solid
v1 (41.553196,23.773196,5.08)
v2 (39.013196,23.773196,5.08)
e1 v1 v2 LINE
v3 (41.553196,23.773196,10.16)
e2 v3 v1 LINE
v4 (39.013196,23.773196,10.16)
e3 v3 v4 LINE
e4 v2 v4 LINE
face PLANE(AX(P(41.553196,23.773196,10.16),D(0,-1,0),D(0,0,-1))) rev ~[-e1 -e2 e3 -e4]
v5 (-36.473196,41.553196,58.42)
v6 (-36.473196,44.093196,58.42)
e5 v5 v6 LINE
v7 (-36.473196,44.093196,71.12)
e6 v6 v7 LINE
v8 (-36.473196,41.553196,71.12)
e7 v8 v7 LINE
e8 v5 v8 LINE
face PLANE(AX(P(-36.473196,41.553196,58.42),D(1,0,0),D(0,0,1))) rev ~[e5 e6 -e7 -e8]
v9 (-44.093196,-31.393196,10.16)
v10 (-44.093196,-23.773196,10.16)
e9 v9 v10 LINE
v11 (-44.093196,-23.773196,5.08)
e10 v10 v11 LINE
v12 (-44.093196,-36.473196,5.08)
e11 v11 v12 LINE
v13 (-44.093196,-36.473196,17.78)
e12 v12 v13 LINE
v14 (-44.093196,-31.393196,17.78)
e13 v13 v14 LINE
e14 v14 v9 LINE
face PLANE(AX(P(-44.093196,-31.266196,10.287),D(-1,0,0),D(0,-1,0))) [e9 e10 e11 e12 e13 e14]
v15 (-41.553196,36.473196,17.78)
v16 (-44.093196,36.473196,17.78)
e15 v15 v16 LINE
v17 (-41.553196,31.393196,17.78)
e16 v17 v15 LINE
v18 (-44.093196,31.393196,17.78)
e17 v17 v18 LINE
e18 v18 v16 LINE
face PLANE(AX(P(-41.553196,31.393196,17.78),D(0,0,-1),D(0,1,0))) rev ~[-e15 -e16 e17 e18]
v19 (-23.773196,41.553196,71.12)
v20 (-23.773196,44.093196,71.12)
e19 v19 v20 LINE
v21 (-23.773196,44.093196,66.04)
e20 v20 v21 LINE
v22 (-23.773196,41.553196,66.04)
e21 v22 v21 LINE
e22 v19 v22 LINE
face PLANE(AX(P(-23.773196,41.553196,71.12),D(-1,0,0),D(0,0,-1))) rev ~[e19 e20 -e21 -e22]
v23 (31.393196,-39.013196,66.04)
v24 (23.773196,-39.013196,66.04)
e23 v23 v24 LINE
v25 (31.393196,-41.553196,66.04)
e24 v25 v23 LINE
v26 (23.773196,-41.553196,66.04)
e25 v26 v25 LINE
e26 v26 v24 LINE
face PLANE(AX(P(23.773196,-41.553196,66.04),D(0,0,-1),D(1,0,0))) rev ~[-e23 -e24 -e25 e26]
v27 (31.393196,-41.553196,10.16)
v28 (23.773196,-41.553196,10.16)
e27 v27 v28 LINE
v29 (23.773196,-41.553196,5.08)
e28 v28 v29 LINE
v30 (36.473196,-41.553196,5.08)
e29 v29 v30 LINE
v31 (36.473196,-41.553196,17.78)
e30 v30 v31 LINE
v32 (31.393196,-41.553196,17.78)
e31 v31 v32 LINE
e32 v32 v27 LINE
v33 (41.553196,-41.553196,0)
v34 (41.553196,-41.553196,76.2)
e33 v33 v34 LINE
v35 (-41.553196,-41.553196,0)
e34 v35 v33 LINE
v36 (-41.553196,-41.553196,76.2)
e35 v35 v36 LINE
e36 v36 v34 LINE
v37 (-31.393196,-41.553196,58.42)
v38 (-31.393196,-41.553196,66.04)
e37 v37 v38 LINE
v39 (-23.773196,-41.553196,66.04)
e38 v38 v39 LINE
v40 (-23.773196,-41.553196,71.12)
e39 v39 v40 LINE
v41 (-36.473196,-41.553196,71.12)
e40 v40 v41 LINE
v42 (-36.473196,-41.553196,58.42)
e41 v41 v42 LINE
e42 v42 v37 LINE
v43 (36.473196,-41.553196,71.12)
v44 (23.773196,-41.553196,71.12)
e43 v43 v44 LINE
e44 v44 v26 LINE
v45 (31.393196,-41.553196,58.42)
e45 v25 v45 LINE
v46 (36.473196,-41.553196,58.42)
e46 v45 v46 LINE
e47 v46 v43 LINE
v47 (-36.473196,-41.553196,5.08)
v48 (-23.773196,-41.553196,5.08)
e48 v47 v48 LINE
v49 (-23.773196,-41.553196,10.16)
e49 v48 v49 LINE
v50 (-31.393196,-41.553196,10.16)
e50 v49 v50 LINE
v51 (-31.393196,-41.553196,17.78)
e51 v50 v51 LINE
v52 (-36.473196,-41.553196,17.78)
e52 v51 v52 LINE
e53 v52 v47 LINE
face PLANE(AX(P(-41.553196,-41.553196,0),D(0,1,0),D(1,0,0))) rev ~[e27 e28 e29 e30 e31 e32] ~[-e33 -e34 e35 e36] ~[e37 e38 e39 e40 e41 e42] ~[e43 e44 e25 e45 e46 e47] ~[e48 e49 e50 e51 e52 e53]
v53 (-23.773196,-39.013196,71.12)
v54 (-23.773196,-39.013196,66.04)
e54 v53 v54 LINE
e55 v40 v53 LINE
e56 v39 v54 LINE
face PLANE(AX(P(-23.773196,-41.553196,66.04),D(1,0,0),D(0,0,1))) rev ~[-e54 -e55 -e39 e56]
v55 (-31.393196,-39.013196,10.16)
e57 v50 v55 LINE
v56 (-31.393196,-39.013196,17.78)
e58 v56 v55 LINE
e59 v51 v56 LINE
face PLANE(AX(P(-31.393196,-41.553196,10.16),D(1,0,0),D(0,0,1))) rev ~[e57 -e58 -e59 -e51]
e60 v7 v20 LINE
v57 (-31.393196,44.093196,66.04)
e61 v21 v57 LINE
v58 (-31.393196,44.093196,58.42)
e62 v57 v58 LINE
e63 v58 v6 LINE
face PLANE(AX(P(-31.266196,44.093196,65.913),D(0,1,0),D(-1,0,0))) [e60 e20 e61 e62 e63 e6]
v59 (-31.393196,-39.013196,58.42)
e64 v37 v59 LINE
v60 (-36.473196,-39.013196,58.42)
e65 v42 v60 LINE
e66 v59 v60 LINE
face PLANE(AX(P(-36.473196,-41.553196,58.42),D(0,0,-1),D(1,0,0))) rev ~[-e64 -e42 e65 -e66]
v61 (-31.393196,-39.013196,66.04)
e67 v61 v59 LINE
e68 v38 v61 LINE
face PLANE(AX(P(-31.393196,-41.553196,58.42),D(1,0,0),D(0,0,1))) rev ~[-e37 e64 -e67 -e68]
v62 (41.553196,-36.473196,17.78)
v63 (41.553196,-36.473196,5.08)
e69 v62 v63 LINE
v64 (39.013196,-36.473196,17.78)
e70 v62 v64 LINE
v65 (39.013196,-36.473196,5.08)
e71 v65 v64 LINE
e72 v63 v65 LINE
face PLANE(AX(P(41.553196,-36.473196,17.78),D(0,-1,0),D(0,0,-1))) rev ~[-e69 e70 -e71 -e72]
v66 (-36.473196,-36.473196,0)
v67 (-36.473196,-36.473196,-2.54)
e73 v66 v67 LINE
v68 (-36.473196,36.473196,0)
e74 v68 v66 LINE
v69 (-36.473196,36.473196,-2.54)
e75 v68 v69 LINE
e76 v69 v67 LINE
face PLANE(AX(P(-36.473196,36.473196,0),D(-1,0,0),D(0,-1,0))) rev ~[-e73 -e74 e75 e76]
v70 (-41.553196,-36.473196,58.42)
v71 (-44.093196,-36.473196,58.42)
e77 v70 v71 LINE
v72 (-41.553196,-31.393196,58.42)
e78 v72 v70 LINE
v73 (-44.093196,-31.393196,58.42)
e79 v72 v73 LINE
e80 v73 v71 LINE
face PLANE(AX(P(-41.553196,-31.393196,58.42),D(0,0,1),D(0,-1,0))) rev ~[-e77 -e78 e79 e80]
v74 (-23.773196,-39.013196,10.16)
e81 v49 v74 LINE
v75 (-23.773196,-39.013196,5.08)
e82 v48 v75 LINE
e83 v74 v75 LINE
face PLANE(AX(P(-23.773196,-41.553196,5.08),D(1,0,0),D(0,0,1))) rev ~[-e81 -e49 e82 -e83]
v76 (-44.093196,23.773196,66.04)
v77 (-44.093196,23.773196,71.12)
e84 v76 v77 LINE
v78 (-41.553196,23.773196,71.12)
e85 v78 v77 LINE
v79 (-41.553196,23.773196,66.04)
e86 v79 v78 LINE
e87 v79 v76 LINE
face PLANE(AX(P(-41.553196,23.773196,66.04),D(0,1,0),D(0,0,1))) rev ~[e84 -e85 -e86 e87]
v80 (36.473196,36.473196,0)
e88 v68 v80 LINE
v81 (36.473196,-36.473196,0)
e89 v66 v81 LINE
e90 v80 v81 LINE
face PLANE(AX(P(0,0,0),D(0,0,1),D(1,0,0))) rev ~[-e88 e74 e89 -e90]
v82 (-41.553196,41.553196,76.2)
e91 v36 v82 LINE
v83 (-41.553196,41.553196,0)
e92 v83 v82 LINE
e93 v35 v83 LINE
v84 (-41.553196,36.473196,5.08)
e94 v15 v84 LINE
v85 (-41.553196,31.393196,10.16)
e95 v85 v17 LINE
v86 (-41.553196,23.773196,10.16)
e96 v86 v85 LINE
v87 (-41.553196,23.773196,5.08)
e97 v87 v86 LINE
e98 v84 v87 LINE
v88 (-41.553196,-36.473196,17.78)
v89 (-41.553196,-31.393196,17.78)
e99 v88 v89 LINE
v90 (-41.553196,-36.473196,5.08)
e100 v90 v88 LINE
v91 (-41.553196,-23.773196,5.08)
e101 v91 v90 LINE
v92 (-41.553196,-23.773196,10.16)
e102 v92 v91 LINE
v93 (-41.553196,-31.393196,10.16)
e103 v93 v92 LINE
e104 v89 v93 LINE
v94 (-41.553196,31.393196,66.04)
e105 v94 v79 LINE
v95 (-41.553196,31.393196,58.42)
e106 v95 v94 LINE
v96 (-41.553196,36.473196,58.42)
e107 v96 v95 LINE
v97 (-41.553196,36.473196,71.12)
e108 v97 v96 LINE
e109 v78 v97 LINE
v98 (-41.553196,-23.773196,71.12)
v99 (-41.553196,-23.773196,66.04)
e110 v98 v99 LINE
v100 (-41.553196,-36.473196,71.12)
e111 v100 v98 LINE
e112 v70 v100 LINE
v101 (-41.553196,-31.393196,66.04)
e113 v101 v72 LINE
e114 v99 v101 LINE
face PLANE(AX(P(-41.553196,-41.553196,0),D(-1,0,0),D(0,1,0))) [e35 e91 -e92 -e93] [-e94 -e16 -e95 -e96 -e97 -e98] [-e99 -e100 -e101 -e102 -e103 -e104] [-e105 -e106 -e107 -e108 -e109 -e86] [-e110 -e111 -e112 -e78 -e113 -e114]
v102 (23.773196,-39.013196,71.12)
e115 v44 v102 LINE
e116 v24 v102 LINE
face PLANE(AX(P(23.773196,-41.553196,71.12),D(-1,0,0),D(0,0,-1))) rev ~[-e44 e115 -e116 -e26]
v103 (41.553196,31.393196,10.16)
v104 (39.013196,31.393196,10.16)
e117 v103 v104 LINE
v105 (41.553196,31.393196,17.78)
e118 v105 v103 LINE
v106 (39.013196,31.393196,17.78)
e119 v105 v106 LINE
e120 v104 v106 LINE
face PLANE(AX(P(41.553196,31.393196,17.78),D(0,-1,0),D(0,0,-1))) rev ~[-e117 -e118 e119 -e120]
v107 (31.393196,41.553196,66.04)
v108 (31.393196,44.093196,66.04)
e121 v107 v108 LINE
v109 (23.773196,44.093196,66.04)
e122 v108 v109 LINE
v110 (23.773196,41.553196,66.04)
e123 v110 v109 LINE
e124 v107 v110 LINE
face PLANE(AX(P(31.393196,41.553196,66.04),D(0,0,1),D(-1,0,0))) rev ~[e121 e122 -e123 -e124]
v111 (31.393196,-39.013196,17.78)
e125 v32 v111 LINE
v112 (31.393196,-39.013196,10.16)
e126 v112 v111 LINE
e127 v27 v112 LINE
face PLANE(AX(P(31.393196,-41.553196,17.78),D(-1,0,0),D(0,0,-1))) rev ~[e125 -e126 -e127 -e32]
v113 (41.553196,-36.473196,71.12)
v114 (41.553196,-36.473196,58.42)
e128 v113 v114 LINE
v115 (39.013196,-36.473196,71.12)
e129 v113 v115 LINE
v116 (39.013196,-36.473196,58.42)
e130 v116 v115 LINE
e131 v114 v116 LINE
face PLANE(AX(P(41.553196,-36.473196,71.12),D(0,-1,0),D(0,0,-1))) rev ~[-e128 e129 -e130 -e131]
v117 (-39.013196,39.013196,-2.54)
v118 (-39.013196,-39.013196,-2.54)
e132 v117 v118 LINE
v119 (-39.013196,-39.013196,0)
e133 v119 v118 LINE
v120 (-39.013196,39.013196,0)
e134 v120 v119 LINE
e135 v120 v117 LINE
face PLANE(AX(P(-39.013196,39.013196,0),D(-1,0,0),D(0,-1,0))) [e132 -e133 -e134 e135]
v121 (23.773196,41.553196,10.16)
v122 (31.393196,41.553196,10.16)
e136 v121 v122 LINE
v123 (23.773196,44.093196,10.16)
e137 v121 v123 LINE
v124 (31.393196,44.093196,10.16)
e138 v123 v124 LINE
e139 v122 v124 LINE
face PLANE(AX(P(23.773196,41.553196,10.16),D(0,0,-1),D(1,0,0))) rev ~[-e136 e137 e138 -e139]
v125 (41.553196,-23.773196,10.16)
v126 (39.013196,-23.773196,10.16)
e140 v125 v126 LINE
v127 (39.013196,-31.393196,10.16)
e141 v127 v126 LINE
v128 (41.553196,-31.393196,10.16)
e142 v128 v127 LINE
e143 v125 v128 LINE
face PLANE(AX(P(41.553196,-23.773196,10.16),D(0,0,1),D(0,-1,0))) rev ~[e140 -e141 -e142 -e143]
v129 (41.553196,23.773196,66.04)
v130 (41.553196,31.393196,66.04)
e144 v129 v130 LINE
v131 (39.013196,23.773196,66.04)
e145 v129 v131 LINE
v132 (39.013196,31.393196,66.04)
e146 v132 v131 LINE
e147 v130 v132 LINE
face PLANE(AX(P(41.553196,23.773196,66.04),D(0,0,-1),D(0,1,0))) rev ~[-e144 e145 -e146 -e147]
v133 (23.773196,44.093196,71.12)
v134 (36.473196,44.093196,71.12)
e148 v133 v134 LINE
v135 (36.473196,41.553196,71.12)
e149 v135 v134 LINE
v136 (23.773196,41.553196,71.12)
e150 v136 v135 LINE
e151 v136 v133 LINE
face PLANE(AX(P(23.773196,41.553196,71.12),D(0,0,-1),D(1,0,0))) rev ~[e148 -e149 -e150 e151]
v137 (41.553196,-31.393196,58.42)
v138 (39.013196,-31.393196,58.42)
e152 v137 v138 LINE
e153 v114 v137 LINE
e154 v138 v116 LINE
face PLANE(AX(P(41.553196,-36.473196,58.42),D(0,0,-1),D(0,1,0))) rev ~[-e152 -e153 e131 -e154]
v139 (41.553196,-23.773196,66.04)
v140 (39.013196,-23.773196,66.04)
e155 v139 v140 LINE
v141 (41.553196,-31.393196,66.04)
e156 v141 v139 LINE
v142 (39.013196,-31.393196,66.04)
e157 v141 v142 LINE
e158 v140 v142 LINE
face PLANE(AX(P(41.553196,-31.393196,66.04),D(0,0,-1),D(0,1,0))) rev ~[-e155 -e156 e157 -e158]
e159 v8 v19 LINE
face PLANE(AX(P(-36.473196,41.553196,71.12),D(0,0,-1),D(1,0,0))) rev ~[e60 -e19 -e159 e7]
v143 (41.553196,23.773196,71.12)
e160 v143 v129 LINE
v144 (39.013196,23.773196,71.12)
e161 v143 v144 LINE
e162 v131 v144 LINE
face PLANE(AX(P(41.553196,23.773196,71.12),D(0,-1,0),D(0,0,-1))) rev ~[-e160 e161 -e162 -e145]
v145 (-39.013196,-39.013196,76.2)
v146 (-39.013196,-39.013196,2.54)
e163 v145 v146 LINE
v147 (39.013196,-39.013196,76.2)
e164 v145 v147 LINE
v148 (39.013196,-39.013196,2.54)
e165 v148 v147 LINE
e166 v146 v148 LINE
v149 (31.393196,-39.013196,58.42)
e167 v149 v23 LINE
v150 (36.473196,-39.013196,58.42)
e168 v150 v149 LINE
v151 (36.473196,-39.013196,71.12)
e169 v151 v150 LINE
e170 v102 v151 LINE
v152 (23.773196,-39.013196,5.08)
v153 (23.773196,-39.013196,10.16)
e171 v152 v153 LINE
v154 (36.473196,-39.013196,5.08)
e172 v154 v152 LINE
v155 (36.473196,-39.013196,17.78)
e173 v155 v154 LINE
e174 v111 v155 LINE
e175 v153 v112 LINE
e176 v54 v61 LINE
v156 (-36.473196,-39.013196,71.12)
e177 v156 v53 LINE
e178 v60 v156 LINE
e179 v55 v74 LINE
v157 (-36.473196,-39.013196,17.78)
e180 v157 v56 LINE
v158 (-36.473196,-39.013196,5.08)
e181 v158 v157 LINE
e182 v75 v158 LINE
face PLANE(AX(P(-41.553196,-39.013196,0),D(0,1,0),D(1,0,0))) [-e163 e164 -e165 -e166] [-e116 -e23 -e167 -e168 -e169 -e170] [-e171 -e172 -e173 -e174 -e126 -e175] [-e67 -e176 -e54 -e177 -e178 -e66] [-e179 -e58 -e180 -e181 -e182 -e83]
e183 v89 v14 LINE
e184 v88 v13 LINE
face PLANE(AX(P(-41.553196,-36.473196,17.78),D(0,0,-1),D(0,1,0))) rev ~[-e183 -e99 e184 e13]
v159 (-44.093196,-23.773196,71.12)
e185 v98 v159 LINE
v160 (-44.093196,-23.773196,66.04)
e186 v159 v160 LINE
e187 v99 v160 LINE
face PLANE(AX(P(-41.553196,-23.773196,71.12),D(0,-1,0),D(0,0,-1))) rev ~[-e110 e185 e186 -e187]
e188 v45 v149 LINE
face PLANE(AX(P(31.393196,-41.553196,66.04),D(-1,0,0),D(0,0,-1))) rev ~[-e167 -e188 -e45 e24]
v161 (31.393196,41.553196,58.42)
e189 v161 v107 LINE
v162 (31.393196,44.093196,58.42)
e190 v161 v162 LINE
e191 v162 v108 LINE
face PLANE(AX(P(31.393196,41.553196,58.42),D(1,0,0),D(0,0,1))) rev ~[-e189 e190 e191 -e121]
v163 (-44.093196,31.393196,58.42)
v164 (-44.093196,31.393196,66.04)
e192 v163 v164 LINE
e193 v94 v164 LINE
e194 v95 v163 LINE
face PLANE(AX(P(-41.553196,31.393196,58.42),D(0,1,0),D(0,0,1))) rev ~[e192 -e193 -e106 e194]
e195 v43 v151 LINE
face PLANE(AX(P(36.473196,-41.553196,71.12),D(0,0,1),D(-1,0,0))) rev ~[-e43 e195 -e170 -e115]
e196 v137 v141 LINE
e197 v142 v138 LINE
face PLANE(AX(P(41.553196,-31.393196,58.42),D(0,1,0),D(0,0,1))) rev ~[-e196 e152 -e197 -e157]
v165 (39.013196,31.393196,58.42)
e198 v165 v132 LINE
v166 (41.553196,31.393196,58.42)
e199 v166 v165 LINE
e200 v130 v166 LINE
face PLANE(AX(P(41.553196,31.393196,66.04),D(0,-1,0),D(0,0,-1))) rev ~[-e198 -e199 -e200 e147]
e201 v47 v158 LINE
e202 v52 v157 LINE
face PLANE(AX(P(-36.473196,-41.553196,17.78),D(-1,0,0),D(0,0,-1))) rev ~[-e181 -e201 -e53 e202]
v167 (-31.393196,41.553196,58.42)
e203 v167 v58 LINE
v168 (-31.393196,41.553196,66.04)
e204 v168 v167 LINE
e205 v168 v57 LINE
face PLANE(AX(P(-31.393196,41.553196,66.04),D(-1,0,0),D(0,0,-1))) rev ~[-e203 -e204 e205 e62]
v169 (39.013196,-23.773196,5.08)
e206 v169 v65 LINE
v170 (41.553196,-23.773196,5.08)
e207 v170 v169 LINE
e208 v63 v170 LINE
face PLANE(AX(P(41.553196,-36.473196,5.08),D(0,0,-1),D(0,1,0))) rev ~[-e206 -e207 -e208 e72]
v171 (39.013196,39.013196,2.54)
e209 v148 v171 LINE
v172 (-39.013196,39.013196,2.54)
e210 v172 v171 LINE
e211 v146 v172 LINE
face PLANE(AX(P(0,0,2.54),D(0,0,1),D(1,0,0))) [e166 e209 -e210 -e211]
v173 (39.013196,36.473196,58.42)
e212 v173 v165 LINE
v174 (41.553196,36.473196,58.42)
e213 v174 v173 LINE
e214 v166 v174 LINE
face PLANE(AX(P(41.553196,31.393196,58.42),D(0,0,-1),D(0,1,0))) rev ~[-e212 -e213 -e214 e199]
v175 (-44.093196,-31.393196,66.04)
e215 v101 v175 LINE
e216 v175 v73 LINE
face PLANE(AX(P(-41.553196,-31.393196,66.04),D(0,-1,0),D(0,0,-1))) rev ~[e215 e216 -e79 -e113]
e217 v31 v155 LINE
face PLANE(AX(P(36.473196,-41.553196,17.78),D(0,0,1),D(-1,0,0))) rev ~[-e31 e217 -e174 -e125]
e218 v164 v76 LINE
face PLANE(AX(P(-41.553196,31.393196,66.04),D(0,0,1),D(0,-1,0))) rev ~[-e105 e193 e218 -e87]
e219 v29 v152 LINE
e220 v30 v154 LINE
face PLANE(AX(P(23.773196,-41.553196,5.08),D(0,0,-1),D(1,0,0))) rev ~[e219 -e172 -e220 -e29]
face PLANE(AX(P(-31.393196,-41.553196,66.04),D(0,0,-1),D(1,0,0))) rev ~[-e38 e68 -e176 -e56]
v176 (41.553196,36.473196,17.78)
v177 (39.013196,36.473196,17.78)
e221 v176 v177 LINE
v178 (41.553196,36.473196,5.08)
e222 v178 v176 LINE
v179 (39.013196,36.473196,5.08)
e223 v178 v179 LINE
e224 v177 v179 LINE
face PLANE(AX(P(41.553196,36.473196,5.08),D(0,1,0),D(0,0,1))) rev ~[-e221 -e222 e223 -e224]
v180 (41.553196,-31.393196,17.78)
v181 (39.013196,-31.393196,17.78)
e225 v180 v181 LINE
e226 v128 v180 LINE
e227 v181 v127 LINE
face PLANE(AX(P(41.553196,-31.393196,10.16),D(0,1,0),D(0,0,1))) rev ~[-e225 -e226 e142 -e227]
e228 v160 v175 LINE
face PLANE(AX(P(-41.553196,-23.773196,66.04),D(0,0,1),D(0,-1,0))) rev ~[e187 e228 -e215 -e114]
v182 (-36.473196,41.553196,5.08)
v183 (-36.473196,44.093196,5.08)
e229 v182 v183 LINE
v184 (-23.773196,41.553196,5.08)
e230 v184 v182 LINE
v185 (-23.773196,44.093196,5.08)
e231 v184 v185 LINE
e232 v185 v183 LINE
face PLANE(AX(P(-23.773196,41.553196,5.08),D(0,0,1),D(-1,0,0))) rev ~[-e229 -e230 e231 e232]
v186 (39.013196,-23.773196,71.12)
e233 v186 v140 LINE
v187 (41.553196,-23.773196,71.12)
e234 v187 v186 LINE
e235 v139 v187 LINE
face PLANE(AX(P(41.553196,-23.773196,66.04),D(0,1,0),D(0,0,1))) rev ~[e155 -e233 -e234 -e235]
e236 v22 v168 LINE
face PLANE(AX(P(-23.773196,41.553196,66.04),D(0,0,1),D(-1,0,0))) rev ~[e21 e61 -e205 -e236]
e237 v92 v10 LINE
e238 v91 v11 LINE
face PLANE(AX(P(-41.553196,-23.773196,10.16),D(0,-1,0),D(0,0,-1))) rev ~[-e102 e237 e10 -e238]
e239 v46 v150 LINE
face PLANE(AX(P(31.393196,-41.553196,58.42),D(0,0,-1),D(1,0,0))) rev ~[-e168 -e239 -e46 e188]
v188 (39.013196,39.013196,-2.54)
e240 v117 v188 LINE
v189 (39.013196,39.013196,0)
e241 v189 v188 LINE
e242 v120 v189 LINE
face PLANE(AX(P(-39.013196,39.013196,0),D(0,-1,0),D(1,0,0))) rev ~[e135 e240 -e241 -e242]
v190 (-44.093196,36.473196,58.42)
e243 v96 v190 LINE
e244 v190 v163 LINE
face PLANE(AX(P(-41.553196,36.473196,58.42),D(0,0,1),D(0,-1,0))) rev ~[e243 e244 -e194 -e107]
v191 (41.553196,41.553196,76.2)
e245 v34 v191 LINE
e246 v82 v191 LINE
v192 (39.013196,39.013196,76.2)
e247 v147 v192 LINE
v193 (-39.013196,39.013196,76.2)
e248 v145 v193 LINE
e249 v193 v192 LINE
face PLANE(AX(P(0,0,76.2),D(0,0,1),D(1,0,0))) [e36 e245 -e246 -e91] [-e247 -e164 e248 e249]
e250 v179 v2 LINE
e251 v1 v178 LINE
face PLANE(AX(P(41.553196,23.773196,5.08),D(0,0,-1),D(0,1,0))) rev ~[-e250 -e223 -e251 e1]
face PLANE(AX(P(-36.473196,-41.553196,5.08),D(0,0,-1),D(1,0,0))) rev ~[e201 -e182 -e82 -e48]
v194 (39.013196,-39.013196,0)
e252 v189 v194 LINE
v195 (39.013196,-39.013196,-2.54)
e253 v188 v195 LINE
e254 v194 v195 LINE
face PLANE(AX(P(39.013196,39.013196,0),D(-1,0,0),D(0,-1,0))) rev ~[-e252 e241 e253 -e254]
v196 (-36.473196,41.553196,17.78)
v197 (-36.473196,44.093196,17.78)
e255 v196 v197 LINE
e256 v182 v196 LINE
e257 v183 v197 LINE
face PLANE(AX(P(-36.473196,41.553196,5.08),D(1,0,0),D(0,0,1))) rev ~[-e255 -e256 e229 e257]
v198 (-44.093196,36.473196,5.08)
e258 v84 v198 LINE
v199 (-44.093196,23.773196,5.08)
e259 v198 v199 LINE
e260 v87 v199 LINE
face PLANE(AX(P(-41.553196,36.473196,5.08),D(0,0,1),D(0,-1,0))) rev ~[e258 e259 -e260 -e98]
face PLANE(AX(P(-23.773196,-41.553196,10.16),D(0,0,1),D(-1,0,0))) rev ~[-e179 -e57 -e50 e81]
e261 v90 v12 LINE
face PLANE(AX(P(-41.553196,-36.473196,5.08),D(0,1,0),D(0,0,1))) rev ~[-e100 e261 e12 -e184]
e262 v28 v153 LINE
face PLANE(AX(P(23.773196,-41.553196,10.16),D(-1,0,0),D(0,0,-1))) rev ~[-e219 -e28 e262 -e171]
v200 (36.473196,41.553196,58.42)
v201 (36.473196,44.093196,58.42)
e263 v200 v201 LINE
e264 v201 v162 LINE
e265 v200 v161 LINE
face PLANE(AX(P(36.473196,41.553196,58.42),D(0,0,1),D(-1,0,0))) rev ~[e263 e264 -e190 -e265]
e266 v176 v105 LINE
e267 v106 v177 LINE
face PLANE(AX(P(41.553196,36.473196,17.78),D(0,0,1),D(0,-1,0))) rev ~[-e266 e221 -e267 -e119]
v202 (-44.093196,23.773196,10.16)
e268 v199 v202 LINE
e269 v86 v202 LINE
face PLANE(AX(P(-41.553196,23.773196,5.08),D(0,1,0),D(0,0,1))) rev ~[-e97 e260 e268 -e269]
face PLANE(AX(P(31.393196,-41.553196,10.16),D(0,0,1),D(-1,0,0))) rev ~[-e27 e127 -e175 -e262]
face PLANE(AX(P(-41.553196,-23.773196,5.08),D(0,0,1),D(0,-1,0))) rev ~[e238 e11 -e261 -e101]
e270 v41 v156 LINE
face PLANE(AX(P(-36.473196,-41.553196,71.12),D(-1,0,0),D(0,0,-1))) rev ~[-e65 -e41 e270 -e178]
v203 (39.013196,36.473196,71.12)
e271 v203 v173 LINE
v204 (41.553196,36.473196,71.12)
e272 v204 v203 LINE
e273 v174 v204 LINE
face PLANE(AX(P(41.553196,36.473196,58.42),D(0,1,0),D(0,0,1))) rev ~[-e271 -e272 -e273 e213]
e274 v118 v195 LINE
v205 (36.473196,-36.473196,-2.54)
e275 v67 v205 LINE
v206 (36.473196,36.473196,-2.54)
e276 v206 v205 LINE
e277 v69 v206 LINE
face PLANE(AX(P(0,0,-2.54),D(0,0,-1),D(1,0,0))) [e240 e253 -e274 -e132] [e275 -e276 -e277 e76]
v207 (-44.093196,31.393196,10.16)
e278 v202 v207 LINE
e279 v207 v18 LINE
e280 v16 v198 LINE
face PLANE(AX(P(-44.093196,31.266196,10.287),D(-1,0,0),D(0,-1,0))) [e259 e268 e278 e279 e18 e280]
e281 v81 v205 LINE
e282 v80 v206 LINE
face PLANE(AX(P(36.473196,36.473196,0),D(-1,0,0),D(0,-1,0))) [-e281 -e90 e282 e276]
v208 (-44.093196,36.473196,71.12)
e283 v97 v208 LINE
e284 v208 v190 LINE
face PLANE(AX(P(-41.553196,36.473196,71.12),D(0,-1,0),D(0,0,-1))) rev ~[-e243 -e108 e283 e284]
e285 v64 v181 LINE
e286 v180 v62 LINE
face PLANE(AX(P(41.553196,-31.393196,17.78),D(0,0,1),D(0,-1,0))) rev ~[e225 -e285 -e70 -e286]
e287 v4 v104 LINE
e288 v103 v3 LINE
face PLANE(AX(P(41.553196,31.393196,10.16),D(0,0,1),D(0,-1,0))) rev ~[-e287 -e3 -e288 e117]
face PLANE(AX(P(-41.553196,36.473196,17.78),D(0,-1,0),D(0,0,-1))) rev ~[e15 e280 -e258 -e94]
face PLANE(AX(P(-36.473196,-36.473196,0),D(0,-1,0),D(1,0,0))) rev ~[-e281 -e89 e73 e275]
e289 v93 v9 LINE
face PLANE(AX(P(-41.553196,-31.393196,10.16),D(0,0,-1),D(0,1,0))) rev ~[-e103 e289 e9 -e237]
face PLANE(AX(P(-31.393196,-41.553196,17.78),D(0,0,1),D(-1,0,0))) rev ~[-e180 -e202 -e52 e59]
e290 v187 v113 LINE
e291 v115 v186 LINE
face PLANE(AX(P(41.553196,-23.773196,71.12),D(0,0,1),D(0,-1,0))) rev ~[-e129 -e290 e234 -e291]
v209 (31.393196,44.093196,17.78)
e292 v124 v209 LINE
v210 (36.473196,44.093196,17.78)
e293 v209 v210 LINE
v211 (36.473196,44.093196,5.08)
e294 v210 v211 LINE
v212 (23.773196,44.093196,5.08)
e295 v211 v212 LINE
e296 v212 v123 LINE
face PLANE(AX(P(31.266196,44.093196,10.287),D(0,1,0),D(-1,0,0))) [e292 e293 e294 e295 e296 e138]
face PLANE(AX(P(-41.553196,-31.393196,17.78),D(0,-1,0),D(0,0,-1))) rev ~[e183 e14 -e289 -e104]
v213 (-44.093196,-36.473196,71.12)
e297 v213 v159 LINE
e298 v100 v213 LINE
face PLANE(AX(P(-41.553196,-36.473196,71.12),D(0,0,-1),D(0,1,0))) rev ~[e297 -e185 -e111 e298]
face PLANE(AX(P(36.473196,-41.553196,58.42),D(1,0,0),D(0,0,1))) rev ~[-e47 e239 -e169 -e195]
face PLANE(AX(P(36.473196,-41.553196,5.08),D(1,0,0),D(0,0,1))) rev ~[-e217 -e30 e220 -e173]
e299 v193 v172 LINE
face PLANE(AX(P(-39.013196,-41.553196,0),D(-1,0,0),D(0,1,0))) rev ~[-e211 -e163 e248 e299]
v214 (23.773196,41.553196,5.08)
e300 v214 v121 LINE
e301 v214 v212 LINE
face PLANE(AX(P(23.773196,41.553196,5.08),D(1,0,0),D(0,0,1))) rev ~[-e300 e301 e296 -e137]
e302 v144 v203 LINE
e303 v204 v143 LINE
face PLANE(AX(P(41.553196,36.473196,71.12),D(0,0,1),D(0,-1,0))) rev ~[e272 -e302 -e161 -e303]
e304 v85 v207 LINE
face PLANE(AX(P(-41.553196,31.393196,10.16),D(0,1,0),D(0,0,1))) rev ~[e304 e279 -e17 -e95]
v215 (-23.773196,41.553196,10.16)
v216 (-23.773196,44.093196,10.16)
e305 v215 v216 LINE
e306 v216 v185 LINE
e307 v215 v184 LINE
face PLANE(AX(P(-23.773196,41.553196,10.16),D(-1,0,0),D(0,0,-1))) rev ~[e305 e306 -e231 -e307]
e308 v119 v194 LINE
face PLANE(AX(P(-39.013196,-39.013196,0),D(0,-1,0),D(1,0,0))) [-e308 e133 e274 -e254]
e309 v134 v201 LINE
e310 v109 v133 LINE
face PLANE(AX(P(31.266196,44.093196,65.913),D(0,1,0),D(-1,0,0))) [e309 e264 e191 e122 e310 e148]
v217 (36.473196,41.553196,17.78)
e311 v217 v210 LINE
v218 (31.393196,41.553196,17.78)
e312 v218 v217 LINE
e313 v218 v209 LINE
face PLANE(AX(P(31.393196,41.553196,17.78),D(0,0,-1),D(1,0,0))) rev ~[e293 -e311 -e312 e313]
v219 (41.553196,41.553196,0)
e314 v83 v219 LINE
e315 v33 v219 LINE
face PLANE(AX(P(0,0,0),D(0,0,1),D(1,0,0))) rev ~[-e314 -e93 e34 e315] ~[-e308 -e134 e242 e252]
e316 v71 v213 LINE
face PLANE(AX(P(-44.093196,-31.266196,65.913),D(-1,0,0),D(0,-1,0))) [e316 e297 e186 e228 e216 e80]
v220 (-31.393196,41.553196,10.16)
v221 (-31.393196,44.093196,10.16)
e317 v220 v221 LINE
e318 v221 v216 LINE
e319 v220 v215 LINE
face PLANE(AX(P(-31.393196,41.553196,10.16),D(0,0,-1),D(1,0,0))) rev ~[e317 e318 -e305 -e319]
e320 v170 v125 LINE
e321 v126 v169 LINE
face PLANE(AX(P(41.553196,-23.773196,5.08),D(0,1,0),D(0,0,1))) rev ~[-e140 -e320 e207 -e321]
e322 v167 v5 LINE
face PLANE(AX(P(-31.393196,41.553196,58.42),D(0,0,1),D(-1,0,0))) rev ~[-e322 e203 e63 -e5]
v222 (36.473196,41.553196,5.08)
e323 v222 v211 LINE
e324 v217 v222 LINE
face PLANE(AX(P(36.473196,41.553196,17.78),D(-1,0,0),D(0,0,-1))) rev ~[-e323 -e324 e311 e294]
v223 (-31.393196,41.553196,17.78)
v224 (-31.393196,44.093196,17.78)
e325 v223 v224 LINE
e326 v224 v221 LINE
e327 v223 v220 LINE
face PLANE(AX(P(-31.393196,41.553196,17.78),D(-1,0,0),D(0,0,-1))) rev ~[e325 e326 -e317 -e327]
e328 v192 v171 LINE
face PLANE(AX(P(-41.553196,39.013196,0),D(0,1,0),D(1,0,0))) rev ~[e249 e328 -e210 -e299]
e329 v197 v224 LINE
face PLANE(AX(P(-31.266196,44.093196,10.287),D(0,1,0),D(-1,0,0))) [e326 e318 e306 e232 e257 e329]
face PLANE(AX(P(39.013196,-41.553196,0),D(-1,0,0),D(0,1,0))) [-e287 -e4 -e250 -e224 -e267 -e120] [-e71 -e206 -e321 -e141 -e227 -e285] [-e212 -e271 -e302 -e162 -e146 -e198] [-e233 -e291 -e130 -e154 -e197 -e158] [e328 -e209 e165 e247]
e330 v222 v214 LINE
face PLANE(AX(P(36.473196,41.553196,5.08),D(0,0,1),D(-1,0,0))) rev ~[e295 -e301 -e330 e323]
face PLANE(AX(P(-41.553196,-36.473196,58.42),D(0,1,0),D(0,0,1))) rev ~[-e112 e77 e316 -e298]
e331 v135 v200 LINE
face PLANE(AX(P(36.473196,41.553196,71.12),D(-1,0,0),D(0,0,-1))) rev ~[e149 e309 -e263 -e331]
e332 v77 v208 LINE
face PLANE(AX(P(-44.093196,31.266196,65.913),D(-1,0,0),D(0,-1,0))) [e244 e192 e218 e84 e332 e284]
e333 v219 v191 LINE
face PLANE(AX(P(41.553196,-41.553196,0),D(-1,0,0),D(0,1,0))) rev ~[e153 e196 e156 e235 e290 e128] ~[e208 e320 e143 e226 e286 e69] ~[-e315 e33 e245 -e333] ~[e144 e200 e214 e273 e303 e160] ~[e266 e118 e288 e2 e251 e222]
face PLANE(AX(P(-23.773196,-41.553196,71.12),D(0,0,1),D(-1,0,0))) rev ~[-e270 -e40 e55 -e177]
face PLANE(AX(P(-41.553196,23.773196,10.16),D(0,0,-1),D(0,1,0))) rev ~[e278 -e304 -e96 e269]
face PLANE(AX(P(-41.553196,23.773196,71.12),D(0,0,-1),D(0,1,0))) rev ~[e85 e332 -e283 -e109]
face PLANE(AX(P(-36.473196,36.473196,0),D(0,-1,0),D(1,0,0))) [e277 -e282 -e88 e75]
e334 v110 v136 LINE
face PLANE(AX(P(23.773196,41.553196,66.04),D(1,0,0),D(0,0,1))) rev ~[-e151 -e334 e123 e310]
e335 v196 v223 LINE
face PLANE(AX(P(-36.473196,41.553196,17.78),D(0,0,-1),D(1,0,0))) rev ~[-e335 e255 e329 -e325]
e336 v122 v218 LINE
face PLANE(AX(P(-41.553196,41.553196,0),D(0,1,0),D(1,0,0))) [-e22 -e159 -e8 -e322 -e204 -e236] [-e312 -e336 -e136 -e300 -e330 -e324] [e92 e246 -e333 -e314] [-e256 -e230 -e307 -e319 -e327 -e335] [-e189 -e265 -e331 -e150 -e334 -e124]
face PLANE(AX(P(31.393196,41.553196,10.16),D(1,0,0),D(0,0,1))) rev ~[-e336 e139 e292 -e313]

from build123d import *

# Parameters (mm, degrees)
F0_W      = 83.106392
F0_H      = 83.106392
F1_DEPTH  = 76.2
F2_T      = -2.54
F3_W      = 78.026392
F3_H      = 78.026392
F3_W_2    = 72.946392
F3_H_2    = 72.946392
F4_DEPTH  = 2.54
F8_DEPTH  = 2.54
F9_DEPTH  = 25.4
F11_DEPTH = 2.54
F12_DEPTH = 25.4


with BuildPart() as f1:
    # F0 (on Top) → F1 (new body)
    with BuildSketch(Plane.XY):
        Rectangle(F0_W, F0_H)
    extrude(amount=F1_DEPTH)

    # F2
    f2_openings = [f1.faces().sort_by_distance(p)[0] for p in [
        (0, 0, 76.2),
    ]]
    offset(amount=F2_T, openings=f2_openings)

    # F3 (on face) → F4 (join)
    with BuildSketch(Plane(origin=(0, 0, 0), x_dir=(1, 0, 0), z_dir=(0, 0, -1))):
        Rectangle(F3_W, F3_H)
        Rectangle(F3_W_2, F3_H_2, mode=Mode.SUBTRACT)
    extrude(amount=F4_DEPTH)

    # F5 (on face) → F8 (join)
    with BuildSketch(Plane(origin=(-41.553196, 0, 0), x_dir=(0, -1, 0), z_dir=(-1, 0, 0))):
        Polygon((-23.773196, 71.12), (-36.473196, 71.12), (-36.473196, 58.42), (-31.393196, 58.42), (-31.393196, 66.04), (-23.773196, 66.04), align=None)
        Polygon((36.473196, 58.42), (36.473196, 71.12), (23.773196, 71.12), (23.773196, 66.04), (31.393196, 66.04), (31.393196, 58.42), align=None)
        Polygon((36.473196, 17.78), (31.393196, 17.78), (31.393196, 10.16), (23.773196, 10.16), (23.773196, 5.08), (36.473196, 5.08), align=None)
        Polygon((-36.473196, 17.78), (-36.473196, 5.08), (-23.773196, 5.08), (-23.773196, 10.16), (-31.393196, 10.16), (-31.393196, 17.78), align=None)
    extrude(amount=F8_DEPTH)

    # F7 (on face) → F9 (cut)
    with BuildSketch(Plane.YZ.offset(41.553196)):
        Polygon((-23.773196, 71.12), (-36.473196, 71.12), (-36.473196, 58.42), (-31.393196, 58.42), (-31.393196, 66.04), (-23.773196, 66.04), align=None)
        Polygon((36.473196, 58.42), (36.473196, 71.12), (23.773196, 71.12), (23.773196, 66.04), (31.393196, 66.04), (31.393196, 58.42), align=None)
        Polygon((23.773196, 5.08), (36.473196, 5.08), (36.473196, 17.78), (31.393196, 17.78), (31.393196, 10.16), (23.773196, 10.16), align=None)
        Polygon((-36.473196, 17.78), (-36.473196, 5.08), (-23.773196, 5.08), (-23.773196, 10.16), (-31.393196, 10.16), (-31.393196, 17.78), align=None)
    extrude(amount=-F9_DEPTH, mode=Mode.SUBTRACT)

    # F10 (on face) → F11 (join)
    with BuildSketch(Plane(origin=(0, 41.553196, 0), x_dir=(-1, 0, 0), z_dir=(0, 1, 0))):
        Polygon((36.473196, 58.42), (36.473196, 71.12), (23.773196, 71.12), (23.773196, 66.04), (31.393196, 66.04), (31.393196, 58.42), align=None)
        Polygon((23.773196, 5.08), (36.473196, 5.08), (36.473196, 17.78), (31.393196, 17.78), (31.393196, 10.16), (23.773196, 10.16), align=None)
        Polygon((-36.473196, 17.78), (-36.473196, 5.08), (-23.773196, 5.08), (-23.773196, 10.16), (-31.393196, 10.16), (-31.393196, 17.78), align=None)
        Polygon((-23.773196, 71.12), (-36.473196, 71.12), (-36.473196, 58.42), (-31.393196, 58.42), (-31.393196, 66.04), (-23.773196, 66.04), align=None)
    extrude(amount=F11_DEPTH)

    # F6 (on face) → F12 (cut)
    with BuildSketch(Plane.XZ.offset(41.553196)):
        Polygon((-23.773196, 71.12), (-36.473196, 71.12), (-36.473196, 58.42), (-31.393196, 58.42), (-31.393196, 66.04), (-23.773196, 66.04), align=None)
        Polygon((-36.473196, 17.78), (-36.473196, 5.08), (-23.773196, 5.08), (-23.773196, 10.16), (-31.393196, 10.16), (-31.393196, 17.78), align=None)
        Polygon((23.773196, 5.08), (36.473196, 5.08), (36.473196, 17.78), (31.393196, 17.78), (31.393196, 10.16), (23.773196, 10.16), align=None)
        Polygon((36.473196, 58.42), (36.473196, 71.12), (23.773196, 71.12), (23.773196, 66.04), (31.393196, 66.04), (31.393196, 58.42), align=None)
    extrude(amount=-F12_DEPTH, mode=Mode.SUBTRACT)


solid = f1.part
